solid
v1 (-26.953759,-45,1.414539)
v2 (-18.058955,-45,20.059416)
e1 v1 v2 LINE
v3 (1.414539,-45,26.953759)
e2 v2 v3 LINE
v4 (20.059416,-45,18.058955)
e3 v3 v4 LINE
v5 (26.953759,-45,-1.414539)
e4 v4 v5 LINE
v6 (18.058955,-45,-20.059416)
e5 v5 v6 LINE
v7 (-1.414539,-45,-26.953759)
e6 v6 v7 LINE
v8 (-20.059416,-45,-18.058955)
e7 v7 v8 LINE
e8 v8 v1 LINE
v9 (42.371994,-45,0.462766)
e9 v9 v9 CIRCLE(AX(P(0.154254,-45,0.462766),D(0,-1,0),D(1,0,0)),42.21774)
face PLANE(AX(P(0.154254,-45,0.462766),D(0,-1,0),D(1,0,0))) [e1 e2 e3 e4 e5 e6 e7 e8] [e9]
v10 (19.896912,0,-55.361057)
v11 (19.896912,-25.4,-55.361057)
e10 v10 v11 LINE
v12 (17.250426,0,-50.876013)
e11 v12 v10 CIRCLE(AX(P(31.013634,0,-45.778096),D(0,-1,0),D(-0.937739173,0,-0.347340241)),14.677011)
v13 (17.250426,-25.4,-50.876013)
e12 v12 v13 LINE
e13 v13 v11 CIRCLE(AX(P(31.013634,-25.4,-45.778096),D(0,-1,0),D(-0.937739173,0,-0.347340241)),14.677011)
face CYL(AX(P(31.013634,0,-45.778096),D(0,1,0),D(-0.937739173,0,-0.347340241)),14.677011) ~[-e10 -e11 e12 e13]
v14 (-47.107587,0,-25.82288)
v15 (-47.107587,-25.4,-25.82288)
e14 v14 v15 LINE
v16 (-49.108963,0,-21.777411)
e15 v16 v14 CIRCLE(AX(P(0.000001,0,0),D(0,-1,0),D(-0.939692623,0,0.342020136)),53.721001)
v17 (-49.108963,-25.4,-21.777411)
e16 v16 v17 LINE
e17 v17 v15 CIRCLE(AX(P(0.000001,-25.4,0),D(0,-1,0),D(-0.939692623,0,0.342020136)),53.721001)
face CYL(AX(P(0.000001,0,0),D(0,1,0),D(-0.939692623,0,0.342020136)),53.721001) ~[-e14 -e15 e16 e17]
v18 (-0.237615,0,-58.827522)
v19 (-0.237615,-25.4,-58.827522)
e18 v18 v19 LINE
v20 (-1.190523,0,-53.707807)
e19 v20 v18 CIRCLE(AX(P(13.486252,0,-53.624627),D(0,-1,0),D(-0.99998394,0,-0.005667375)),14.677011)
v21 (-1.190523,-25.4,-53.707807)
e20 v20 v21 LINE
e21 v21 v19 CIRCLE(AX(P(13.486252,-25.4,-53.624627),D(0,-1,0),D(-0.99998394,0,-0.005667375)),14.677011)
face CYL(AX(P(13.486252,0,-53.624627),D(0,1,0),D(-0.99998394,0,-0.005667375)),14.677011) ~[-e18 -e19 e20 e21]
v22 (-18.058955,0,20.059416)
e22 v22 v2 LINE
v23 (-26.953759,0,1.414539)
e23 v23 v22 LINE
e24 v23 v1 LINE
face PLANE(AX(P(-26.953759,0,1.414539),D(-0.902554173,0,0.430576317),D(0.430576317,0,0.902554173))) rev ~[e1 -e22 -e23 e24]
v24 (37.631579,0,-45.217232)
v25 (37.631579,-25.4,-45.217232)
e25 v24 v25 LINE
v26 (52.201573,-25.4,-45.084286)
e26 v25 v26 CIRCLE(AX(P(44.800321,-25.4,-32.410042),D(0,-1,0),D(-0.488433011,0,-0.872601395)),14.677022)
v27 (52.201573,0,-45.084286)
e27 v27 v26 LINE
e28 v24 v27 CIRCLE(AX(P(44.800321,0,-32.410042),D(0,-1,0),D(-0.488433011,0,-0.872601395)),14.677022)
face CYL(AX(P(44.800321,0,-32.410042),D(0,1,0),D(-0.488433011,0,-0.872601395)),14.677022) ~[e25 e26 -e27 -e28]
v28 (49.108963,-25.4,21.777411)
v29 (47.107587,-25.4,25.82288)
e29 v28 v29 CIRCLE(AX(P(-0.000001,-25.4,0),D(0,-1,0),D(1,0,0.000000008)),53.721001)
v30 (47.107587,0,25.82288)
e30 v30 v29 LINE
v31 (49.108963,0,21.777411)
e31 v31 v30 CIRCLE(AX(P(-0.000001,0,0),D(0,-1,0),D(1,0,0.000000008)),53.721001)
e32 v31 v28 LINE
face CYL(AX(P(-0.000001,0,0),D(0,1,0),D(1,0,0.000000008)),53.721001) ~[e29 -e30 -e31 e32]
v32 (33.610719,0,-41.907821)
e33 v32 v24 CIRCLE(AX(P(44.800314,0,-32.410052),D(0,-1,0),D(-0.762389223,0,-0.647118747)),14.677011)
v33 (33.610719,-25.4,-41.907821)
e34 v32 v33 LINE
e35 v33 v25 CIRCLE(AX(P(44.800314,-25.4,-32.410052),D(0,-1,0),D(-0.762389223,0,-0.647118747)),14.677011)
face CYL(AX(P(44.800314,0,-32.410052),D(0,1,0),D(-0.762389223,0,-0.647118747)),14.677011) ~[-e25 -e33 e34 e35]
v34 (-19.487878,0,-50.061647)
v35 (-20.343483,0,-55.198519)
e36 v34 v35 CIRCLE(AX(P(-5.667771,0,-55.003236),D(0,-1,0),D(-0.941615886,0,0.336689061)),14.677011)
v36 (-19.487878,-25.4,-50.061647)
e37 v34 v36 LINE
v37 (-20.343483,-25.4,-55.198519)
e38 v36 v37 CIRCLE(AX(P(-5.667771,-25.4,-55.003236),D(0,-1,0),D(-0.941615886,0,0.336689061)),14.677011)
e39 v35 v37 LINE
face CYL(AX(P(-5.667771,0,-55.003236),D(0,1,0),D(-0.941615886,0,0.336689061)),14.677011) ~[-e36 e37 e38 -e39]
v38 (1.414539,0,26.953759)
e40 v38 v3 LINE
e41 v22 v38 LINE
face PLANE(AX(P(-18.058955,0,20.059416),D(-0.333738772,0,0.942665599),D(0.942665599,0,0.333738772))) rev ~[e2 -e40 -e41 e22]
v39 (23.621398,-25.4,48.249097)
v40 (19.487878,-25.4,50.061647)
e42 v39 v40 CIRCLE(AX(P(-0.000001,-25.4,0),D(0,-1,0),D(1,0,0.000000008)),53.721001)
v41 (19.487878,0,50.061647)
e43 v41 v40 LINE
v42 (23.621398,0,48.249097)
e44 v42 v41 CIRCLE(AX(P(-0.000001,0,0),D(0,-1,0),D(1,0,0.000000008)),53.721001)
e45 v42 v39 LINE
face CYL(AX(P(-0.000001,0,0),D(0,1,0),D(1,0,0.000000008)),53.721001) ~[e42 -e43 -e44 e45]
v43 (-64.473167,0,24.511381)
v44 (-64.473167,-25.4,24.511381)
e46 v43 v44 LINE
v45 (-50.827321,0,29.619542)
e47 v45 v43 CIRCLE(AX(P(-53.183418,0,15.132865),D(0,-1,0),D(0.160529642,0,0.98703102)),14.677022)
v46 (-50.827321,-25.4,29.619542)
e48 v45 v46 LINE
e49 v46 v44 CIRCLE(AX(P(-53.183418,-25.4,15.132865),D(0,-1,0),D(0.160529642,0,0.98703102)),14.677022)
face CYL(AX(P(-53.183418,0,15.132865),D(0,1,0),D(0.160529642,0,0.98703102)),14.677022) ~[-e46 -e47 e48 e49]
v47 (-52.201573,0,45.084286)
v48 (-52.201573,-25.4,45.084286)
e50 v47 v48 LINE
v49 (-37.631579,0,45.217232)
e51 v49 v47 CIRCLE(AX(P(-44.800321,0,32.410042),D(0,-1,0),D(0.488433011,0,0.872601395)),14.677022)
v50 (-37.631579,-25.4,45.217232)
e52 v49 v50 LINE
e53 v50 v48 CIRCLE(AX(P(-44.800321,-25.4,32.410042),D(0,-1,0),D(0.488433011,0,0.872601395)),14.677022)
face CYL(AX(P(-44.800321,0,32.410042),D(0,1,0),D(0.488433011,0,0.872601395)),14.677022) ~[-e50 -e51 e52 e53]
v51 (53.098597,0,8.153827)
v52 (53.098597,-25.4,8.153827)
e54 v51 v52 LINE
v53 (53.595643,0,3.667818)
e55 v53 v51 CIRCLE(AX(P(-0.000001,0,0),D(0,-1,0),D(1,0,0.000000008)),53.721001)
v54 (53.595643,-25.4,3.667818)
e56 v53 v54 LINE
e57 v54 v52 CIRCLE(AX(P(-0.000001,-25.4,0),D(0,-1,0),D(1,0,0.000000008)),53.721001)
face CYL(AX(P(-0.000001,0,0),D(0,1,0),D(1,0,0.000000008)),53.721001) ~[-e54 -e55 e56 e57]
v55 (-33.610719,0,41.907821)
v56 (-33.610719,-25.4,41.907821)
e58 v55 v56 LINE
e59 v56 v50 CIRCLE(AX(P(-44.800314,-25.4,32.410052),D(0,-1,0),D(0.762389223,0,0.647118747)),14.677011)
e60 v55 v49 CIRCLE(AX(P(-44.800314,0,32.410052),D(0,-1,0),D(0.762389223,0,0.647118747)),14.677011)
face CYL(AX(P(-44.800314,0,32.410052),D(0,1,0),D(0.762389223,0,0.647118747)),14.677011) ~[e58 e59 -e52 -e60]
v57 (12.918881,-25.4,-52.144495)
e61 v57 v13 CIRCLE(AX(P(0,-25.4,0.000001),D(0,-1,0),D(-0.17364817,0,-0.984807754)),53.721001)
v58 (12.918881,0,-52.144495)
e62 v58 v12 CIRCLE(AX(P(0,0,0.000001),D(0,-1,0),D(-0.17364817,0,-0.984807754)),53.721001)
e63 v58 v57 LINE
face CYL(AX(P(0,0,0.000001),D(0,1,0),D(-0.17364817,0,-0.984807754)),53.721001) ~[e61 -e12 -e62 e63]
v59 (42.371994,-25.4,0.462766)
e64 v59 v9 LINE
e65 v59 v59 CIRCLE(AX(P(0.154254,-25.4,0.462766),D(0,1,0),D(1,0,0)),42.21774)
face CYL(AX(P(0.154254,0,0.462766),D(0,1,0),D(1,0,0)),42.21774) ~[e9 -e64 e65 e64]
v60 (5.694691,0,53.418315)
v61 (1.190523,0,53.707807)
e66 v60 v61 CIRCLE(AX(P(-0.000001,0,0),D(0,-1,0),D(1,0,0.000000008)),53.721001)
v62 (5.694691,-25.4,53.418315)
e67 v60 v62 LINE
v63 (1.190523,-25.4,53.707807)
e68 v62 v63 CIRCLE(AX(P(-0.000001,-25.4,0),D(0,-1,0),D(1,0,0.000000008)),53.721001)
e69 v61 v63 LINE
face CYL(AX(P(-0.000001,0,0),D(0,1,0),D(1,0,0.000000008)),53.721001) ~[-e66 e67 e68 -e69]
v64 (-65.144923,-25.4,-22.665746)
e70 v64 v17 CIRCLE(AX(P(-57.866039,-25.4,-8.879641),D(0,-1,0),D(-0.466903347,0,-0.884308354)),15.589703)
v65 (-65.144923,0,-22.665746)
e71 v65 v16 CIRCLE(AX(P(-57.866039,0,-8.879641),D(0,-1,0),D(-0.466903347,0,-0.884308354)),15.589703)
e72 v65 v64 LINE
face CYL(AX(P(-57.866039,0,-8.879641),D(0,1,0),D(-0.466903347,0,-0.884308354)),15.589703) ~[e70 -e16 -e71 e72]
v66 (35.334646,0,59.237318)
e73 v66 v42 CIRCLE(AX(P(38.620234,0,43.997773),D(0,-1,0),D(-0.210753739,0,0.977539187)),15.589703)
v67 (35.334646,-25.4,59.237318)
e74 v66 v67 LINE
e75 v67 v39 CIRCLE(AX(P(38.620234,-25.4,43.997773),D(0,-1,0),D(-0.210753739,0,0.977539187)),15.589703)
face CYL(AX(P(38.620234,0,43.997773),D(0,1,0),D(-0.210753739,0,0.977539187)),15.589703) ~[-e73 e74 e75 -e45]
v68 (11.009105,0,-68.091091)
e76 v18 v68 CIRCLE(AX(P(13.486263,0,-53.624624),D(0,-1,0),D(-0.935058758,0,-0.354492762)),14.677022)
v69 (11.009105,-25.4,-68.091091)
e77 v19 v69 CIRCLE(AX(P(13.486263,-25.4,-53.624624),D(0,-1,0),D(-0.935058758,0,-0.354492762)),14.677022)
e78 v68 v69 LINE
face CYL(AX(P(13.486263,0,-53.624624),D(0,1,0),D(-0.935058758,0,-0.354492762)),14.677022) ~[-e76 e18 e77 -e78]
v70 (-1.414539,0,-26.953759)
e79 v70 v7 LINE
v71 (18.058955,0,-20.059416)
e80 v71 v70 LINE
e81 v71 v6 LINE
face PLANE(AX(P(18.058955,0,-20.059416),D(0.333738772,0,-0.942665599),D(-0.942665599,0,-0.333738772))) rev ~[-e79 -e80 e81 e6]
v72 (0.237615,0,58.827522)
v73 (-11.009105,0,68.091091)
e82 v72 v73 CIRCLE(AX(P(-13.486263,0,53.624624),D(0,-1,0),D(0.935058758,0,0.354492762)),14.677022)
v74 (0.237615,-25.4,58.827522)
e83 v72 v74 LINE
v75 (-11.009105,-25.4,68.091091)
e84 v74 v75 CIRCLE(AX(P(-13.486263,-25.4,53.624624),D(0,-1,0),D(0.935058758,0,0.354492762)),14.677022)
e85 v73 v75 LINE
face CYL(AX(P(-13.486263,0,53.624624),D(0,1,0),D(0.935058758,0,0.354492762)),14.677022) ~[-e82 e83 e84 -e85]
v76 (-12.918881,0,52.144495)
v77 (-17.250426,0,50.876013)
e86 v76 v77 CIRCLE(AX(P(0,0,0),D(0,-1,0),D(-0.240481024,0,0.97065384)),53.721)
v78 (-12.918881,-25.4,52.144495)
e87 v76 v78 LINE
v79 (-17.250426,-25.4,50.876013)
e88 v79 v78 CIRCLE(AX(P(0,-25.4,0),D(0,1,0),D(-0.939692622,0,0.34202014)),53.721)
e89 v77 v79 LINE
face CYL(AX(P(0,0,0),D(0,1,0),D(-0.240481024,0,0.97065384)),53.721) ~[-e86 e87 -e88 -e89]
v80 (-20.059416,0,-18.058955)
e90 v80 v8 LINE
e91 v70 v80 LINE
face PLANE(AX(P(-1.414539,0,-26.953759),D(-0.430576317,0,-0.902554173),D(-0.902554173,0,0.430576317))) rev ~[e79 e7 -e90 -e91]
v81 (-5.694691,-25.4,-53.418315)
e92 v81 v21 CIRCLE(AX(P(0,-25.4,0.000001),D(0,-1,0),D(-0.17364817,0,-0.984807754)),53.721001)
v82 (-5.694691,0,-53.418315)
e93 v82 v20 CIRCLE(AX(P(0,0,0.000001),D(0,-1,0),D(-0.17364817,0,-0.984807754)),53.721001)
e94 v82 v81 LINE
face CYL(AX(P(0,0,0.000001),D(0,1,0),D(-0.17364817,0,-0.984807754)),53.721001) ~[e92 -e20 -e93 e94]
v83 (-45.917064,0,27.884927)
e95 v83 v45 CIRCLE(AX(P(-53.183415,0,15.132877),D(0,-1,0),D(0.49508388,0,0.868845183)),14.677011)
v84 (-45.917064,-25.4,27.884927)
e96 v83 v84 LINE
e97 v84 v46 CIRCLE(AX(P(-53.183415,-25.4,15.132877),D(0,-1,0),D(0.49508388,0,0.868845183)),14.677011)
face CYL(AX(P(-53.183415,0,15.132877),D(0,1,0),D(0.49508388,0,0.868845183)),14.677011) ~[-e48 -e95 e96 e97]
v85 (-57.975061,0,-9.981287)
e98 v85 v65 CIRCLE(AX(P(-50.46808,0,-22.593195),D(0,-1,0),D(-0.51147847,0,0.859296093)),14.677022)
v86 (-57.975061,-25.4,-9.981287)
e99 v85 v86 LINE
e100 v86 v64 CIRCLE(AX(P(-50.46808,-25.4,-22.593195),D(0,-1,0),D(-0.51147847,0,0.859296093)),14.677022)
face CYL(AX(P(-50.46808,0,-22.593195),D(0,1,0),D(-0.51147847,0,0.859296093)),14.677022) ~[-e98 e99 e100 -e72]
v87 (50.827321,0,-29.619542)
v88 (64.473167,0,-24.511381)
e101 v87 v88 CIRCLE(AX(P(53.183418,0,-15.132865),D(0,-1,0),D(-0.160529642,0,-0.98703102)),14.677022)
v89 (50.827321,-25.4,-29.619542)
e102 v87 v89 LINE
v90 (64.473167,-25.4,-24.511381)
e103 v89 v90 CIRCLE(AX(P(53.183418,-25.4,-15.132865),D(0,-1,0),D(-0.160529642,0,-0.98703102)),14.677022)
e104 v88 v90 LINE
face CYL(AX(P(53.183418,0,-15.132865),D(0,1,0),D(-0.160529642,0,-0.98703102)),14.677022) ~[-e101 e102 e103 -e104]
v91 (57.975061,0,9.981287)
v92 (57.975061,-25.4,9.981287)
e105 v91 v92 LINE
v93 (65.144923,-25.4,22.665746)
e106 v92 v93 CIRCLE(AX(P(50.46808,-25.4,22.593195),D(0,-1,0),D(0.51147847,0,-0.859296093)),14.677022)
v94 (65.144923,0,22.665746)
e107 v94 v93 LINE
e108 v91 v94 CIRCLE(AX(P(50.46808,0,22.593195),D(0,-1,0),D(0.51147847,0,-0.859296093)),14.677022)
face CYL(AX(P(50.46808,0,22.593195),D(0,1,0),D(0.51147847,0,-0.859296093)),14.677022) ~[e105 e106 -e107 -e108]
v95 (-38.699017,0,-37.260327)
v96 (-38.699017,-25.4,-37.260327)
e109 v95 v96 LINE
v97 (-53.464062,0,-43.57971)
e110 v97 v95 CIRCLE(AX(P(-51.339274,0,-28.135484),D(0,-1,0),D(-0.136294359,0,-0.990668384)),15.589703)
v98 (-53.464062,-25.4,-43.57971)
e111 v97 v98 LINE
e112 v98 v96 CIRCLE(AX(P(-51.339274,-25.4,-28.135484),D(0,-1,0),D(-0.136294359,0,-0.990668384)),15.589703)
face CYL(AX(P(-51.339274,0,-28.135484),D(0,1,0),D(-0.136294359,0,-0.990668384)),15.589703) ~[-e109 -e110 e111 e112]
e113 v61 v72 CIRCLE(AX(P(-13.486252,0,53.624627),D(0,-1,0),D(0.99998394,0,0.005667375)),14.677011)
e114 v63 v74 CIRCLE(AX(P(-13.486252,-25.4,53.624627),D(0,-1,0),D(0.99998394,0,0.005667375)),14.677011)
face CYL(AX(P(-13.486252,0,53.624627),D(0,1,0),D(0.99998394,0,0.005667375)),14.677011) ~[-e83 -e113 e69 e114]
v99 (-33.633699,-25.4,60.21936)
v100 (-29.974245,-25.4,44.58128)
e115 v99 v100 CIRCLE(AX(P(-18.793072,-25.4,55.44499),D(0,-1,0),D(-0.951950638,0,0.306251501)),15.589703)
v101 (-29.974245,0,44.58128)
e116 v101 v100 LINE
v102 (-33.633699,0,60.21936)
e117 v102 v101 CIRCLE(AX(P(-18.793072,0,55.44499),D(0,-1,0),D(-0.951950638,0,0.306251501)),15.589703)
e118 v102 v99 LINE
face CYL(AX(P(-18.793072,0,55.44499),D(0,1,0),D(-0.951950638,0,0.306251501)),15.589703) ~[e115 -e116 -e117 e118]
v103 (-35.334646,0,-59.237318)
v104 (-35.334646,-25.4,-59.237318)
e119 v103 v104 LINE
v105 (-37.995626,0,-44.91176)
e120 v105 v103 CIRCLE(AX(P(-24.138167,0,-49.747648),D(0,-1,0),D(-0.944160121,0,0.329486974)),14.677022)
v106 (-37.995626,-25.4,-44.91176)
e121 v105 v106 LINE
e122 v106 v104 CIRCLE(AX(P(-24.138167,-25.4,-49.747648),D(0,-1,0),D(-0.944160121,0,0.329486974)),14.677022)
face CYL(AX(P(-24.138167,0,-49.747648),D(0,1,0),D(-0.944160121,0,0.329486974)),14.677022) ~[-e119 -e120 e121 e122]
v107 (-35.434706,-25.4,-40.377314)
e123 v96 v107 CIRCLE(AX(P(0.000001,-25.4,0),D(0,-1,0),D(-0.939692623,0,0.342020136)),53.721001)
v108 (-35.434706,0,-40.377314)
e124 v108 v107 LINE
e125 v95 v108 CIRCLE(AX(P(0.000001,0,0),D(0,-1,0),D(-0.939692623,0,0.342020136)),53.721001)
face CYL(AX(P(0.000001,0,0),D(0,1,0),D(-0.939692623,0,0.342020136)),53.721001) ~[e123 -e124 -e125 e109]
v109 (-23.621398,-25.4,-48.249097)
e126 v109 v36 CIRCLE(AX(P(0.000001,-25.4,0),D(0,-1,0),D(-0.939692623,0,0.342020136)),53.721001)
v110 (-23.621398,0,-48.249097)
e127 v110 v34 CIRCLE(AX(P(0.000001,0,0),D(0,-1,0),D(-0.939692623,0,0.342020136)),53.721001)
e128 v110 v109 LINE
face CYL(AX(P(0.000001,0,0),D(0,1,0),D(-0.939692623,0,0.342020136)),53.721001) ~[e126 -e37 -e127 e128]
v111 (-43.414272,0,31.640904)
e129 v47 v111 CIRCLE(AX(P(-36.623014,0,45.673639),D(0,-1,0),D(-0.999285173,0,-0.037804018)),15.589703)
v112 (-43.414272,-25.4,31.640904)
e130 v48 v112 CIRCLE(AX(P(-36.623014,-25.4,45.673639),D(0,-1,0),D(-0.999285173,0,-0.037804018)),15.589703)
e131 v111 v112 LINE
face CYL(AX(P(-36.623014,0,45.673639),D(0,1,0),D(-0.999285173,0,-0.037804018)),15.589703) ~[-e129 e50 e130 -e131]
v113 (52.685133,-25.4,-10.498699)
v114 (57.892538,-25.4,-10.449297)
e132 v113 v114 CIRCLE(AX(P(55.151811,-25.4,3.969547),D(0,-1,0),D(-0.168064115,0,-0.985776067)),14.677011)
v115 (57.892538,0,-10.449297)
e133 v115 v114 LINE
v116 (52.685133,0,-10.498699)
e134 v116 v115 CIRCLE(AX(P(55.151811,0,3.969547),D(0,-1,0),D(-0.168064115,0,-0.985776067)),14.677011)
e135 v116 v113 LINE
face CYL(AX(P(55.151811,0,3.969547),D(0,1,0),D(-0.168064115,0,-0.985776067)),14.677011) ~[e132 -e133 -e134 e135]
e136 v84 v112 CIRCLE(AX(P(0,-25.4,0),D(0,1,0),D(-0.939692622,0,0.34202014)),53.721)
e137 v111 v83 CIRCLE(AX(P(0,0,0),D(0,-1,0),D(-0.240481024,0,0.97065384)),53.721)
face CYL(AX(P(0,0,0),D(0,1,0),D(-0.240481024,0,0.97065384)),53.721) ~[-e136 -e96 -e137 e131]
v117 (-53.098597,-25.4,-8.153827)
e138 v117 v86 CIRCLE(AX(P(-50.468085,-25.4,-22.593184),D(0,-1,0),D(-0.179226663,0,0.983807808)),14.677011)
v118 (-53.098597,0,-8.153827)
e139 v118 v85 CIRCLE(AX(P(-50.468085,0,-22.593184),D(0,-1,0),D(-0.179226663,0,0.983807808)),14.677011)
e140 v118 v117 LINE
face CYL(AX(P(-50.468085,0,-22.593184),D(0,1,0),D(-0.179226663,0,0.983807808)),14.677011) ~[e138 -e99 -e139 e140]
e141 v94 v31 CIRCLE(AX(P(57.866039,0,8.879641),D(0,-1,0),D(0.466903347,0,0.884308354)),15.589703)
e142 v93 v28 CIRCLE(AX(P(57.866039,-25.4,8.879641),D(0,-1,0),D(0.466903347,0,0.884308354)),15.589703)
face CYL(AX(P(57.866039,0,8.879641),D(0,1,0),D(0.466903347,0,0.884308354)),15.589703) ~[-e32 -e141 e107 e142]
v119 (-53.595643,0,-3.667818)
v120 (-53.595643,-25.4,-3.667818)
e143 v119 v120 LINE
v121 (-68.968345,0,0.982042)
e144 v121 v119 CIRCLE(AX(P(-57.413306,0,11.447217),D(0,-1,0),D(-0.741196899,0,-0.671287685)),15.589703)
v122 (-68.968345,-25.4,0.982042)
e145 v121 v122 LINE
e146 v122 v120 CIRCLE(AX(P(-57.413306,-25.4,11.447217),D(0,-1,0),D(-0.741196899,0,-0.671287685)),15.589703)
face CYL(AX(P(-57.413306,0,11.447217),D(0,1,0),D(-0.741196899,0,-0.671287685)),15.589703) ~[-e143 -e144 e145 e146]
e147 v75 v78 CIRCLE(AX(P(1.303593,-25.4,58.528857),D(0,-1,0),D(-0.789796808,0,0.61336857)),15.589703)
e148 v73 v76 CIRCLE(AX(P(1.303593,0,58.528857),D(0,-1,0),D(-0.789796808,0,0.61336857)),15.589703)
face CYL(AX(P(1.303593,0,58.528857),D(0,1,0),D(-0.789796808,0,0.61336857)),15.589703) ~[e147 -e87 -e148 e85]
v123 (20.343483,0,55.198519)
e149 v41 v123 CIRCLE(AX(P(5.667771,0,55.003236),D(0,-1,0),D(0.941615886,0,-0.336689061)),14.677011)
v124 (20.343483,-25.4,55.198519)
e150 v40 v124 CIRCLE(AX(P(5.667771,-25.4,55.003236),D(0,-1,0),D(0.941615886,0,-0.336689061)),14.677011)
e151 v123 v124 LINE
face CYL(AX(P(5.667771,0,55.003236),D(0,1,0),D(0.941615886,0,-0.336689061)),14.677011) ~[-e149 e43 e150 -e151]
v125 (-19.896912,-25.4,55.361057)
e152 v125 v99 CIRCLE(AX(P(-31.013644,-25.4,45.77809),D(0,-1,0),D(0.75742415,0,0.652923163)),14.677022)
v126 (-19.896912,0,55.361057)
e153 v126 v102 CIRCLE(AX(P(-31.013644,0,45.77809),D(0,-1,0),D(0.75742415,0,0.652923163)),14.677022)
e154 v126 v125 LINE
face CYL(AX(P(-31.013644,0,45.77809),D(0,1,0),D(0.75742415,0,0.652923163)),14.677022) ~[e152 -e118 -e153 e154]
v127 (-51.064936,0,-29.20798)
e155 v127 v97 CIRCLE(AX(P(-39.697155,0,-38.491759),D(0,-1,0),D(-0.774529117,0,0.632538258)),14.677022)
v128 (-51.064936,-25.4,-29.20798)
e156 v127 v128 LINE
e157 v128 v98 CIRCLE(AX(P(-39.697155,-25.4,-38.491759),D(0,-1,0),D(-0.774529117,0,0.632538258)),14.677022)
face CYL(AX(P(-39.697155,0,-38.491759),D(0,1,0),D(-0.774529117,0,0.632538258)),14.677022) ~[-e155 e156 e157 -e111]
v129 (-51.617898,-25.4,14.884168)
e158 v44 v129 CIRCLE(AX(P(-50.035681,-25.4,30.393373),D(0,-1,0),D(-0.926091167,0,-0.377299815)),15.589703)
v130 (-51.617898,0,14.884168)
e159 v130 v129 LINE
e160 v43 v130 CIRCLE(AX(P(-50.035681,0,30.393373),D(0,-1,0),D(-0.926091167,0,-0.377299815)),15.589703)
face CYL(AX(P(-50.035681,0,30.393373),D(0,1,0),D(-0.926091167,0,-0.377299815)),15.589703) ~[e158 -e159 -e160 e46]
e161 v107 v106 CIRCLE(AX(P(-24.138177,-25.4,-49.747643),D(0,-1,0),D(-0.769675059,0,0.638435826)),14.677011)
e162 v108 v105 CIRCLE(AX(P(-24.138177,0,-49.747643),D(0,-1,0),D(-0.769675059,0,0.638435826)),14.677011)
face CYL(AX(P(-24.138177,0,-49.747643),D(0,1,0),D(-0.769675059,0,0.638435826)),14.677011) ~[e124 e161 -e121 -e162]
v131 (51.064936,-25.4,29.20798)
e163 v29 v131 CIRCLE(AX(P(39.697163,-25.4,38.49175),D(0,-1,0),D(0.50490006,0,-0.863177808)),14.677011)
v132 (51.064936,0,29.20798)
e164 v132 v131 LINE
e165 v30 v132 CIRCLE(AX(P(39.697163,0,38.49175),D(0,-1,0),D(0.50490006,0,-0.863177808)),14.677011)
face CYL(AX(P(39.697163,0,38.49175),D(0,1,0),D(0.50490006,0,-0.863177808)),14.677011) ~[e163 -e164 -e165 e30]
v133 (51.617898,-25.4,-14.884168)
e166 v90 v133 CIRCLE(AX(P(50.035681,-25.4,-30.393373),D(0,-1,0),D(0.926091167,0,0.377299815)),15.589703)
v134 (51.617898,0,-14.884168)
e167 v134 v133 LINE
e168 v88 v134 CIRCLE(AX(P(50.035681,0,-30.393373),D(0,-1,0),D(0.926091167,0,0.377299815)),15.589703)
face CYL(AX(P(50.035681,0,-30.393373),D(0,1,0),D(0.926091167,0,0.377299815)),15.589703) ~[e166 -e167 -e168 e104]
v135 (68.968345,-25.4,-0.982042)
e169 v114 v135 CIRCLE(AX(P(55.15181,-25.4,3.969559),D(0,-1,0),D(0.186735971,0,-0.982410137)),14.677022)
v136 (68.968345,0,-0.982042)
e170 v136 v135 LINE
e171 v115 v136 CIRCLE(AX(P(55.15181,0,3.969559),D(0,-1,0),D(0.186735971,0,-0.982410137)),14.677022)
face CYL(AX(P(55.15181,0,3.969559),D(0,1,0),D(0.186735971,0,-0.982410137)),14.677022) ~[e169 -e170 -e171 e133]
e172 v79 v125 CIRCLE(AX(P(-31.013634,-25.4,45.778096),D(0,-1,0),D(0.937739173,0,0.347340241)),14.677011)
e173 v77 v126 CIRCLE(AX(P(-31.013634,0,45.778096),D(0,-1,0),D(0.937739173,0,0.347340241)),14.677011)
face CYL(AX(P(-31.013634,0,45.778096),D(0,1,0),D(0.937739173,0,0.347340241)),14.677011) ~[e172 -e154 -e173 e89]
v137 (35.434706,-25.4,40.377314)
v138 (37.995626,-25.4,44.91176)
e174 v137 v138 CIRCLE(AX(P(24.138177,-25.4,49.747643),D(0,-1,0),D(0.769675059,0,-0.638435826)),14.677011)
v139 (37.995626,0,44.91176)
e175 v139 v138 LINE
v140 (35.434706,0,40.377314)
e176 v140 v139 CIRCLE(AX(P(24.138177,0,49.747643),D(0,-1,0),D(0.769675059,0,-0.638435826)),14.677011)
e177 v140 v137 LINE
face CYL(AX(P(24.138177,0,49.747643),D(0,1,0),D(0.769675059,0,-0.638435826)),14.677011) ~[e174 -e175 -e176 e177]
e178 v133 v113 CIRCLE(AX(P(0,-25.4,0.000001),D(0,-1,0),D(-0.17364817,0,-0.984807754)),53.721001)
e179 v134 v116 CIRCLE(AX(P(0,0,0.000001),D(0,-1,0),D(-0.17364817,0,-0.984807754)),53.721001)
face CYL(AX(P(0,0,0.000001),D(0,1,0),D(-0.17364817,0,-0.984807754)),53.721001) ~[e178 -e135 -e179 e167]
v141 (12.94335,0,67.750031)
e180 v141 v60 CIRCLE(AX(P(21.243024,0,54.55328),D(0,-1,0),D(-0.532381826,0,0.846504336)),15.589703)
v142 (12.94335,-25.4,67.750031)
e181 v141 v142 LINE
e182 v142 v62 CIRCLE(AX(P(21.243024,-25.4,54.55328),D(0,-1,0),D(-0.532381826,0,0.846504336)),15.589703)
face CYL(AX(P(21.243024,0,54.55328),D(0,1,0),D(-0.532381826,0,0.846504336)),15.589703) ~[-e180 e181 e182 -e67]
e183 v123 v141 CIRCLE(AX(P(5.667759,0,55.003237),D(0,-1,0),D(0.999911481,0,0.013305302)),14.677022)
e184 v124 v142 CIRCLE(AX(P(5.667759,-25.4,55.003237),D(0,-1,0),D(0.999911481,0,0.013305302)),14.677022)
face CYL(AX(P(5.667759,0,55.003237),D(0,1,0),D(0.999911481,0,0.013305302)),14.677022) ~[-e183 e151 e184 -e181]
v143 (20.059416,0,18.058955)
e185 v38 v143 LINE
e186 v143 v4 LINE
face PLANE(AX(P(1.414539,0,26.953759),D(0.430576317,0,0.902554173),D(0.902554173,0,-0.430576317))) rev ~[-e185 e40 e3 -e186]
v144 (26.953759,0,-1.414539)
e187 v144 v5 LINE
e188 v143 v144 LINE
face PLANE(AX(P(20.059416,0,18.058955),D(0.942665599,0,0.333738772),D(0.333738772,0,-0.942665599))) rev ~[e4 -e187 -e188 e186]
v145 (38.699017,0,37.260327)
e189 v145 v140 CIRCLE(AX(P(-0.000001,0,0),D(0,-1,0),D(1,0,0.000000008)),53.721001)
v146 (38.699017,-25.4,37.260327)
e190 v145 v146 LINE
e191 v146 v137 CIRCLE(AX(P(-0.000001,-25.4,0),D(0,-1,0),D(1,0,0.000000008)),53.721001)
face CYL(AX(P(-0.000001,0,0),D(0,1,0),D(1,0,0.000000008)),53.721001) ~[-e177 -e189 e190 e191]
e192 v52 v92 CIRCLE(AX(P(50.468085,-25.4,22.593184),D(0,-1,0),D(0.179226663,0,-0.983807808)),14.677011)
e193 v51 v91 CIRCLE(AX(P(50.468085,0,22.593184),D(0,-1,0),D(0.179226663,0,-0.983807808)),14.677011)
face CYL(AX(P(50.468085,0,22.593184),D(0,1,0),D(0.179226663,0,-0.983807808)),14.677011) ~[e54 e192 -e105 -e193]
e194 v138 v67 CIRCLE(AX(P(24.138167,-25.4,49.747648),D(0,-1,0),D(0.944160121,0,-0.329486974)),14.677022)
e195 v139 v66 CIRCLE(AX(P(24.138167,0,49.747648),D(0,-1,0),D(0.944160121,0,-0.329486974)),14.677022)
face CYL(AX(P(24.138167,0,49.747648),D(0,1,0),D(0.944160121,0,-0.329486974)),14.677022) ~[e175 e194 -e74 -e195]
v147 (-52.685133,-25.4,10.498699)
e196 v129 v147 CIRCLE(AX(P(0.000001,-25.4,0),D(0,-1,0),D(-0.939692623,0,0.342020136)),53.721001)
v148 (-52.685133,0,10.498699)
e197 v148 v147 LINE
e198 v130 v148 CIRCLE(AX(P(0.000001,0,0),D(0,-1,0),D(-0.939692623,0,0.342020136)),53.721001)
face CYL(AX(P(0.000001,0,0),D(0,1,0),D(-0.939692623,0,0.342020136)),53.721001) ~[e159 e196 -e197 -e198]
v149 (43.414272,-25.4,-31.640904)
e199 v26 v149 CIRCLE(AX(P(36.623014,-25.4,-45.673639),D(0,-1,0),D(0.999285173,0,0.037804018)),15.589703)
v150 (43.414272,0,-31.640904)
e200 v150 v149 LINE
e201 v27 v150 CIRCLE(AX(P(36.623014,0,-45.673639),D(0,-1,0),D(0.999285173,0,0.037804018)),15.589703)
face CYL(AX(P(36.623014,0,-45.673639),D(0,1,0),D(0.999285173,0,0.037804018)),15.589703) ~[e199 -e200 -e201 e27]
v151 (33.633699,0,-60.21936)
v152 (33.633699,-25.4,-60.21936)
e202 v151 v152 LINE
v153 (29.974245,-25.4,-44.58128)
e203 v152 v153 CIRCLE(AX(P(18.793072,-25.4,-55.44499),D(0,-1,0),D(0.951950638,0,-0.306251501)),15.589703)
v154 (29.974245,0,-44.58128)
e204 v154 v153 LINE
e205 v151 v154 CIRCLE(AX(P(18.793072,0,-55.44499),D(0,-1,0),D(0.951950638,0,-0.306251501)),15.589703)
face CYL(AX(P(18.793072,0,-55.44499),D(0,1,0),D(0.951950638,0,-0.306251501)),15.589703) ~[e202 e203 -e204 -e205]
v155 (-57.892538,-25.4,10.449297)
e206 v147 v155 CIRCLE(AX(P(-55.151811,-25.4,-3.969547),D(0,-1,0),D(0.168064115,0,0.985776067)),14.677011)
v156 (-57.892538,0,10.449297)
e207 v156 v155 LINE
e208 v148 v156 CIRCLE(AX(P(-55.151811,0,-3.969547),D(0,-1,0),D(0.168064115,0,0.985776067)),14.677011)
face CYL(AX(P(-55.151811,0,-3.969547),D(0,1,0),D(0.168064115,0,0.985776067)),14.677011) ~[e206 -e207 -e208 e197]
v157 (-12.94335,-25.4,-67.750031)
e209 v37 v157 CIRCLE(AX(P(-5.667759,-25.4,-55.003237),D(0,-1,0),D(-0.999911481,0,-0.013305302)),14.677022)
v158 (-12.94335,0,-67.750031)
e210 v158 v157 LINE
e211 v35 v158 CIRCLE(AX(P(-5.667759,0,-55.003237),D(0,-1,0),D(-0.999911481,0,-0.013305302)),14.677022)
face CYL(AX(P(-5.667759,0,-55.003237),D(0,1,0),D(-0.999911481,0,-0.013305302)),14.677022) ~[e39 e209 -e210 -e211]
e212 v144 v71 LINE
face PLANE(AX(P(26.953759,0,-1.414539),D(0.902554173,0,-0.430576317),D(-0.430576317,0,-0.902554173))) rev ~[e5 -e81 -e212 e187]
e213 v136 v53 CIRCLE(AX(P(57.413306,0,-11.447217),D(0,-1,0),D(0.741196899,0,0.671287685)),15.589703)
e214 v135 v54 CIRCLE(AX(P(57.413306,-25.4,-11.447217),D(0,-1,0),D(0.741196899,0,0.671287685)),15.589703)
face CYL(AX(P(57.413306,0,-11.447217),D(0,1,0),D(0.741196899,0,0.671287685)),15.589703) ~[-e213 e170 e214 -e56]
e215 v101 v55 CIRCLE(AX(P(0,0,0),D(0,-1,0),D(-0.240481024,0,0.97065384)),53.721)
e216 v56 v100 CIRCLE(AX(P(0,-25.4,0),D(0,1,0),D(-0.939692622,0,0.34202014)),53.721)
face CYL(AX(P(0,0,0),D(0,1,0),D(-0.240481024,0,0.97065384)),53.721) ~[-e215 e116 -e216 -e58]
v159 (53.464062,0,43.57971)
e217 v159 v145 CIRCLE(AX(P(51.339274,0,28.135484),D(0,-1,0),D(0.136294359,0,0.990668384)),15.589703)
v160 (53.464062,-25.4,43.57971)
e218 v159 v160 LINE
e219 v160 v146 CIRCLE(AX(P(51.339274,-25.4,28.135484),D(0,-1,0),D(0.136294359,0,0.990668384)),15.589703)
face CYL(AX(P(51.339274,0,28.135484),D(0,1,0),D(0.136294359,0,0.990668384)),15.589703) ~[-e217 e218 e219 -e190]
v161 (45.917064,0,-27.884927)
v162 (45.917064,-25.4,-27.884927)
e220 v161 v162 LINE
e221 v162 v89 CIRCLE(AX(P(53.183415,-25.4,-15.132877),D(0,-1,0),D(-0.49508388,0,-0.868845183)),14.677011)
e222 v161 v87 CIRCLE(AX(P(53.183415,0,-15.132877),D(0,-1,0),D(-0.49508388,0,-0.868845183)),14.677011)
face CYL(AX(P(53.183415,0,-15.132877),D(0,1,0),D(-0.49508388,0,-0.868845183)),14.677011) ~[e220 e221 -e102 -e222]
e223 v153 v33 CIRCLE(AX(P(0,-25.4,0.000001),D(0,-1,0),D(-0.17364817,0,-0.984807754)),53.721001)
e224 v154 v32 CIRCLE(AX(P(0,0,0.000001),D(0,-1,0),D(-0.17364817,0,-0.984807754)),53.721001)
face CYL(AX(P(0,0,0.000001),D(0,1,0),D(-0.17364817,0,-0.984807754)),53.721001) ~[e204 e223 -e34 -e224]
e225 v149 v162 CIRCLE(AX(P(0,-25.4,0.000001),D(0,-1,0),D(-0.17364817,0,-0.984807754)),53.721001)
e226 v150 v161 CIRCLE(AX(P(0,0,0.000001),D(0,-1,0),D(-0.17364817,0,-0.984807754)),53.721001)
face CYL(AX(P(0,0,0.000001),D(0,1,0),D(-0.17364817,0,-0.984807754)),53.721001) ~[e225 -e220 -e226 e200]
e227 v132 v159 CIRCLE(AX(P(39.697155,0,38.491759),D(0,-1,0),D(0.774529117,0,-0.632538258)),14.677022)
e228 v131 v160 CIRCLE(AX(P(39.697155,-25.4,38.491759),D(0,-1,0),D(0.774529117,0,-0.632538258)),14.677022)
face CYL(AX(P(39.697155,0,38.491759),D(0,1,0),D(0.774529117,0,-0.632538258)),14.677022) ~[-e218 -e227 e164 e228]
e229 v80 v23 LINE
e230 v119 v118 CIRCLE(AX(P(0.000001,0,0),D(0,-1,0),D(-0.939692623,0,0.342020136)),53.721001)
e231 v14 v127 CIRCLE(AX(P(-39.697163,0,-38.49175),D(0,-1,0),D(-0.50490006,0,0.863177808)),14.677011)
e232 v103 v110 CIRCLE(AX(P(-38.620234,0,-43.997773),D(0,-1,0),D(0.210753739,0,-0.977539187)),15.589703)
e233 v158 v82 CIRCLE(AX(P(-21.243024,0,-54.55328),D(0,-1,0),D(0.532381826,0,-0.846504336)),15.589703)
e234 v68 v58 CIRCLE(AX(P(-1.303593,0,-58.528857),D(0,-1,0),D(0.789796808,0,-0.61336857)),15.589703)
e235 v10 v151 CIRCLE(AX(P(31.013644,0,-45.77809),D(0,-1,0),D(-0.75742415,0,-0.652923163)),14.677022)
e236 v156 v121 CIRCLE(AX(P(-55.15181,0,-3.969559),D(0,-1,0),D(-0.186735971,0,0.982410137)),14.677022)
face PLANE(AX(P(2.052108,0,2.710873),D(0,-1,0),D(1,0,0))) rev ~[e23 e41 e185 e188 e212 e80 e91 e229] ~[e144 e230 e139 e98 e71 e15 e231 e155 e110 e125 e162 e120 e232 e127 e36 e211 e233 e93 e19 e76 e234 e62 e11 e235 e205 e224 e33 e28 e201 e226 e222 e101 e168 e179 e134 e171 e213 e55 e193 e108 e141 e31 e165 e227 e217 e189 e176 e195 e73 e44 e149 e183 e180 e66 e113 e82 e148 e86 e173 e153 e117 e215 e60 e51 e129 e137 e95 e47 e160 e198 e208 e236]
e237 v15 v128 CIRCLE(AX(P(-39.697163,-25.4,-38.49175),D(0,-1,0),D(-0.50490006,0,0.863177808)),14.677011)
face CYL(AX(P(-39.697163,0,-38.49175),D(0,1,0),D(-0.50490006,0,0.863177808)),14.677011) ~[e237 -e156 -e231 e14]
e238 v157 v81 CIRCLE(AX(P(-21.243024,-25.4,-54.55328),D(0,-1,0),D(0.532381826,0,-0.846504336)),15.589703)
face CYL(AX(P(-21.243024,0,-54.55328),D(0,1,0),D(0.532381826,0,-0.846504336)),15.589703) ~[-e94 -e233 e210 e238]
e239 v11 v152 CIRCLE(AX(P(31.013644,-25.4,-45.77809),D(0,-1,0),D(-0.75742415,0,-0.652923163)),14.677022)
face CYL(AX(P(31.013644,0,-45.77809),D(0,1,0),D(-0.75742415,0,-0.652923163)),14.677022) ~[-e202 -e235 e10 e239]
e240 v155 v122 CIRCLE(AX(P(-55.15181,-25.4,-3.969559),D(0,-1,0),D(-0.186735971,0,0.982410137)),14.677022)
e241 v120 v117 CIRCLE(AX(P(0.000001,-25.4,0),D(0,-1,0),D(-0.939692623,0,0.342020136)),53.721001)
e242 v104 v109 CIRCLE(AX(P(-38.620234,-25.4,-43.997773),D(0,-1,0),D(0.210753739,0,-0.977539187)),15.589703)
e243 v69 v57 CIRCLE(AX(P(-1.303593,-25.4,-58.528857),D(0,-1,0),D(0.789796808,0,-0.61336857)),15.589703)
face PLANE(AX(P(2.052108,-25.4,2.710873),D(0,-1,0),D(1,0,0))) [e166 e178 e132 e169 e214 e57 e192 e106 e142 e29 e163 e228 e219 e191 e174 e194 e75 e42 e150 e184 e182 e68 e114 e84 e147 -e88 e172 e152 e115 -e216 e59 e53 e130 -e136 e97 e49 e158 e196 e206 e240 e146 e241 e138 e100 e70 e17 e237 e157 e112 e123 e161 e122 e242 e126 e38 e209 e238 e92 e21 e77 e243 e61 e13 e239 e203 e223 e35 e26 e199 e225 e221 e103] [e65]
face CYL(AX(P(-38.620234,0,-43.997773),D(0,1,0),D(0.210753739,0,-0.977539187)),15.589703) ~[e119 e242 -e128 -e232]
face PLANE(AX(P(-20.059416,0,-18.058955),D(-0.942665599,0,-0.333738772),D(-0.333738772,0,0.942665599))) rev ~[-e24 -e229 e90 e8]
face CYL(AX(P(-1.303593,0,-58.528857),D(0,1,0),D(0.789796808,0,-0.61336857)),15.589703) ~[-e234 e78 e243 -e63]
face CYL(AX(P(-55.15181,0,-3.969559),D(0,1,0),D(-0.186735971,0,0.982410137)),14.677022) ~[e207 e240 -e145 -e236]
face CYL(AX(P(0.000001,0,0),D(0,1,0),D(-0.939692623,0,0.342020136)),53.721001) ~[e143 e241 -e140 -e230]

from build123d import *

# Parameters (mm, degrees)
F0_R     = 42.21774
F1_DEPTH = 25.4
F2_COUNT = 18
F3_DEPTH = 45


with BuildPart() as f1:
    # F0 (on Front) → F1 (new body)
    with BuildSketch(Plane.XZ):
        with BuildLine():
            ThreePointArc((-12.918881, 52.144495), (-33.105367, -42.308161), (53.721, 0))
            ThreePointArc((53.721, 0), (38.40509, 37.563212), (1.190523, 53.707807))
            ThreePointArc((1.190523, 53.707807), (-5.916044, 53.394253), (-12.918881, 52.144495))
        make_face()
        with Locations((0.154254, 0.462766)):
            Circle(F0_R, mode=Mode.SUBTRACT)
        with BuildLine():
            ThreePointArc((-12.918881, 52.144495), (-5.916044, 53.394253), (1.190523, 53.707807))
            ThreePointArc((1.190523, 53.707807), (0.942954, 56.310266), (0.237615, 58.827522))
            ThreePointArc((0.237615, 58.827522), (-4.155035, 64.953488), (-11.009105, 68.091091))
            ThreePointArc((-11.009105, 68.091091), (-14.1755, 60.382645), (-12.918881, 52.144495))
        make_face()
    extrude(amount=F1_DEPTH)

    # F2: F1 ×18 about axis
    f2_axis = Axis((0, 0, 0), (0, 1, 0))


with BuildPart() as f1_1:
    add(f1.part)
    for i in range(1, F2_COUNT):
        add(f1.part.rotate(f2_axis, i * 360 / F2_COUNT))

    # F0 (on Front) → F3 (join)
    with BuildSketch(Plane.XZ):
        with Locations((0.154254, 0.462766)):
            Circle(F0_R)
        Polygon((-26.953759, 1.414539), (-18.058955, 20.059416), (1.414539, 26.953759), (20.059416, 18.058955), (26.953759, -1.414539), (18.058955, -20.059416), (-1.414539, -26.953759), (-20.059416, -18.058955), align=None, mode=Mode.SUBTRACT)
    extrude(amount=F3_DEPTH)


solid = f1_1.part
